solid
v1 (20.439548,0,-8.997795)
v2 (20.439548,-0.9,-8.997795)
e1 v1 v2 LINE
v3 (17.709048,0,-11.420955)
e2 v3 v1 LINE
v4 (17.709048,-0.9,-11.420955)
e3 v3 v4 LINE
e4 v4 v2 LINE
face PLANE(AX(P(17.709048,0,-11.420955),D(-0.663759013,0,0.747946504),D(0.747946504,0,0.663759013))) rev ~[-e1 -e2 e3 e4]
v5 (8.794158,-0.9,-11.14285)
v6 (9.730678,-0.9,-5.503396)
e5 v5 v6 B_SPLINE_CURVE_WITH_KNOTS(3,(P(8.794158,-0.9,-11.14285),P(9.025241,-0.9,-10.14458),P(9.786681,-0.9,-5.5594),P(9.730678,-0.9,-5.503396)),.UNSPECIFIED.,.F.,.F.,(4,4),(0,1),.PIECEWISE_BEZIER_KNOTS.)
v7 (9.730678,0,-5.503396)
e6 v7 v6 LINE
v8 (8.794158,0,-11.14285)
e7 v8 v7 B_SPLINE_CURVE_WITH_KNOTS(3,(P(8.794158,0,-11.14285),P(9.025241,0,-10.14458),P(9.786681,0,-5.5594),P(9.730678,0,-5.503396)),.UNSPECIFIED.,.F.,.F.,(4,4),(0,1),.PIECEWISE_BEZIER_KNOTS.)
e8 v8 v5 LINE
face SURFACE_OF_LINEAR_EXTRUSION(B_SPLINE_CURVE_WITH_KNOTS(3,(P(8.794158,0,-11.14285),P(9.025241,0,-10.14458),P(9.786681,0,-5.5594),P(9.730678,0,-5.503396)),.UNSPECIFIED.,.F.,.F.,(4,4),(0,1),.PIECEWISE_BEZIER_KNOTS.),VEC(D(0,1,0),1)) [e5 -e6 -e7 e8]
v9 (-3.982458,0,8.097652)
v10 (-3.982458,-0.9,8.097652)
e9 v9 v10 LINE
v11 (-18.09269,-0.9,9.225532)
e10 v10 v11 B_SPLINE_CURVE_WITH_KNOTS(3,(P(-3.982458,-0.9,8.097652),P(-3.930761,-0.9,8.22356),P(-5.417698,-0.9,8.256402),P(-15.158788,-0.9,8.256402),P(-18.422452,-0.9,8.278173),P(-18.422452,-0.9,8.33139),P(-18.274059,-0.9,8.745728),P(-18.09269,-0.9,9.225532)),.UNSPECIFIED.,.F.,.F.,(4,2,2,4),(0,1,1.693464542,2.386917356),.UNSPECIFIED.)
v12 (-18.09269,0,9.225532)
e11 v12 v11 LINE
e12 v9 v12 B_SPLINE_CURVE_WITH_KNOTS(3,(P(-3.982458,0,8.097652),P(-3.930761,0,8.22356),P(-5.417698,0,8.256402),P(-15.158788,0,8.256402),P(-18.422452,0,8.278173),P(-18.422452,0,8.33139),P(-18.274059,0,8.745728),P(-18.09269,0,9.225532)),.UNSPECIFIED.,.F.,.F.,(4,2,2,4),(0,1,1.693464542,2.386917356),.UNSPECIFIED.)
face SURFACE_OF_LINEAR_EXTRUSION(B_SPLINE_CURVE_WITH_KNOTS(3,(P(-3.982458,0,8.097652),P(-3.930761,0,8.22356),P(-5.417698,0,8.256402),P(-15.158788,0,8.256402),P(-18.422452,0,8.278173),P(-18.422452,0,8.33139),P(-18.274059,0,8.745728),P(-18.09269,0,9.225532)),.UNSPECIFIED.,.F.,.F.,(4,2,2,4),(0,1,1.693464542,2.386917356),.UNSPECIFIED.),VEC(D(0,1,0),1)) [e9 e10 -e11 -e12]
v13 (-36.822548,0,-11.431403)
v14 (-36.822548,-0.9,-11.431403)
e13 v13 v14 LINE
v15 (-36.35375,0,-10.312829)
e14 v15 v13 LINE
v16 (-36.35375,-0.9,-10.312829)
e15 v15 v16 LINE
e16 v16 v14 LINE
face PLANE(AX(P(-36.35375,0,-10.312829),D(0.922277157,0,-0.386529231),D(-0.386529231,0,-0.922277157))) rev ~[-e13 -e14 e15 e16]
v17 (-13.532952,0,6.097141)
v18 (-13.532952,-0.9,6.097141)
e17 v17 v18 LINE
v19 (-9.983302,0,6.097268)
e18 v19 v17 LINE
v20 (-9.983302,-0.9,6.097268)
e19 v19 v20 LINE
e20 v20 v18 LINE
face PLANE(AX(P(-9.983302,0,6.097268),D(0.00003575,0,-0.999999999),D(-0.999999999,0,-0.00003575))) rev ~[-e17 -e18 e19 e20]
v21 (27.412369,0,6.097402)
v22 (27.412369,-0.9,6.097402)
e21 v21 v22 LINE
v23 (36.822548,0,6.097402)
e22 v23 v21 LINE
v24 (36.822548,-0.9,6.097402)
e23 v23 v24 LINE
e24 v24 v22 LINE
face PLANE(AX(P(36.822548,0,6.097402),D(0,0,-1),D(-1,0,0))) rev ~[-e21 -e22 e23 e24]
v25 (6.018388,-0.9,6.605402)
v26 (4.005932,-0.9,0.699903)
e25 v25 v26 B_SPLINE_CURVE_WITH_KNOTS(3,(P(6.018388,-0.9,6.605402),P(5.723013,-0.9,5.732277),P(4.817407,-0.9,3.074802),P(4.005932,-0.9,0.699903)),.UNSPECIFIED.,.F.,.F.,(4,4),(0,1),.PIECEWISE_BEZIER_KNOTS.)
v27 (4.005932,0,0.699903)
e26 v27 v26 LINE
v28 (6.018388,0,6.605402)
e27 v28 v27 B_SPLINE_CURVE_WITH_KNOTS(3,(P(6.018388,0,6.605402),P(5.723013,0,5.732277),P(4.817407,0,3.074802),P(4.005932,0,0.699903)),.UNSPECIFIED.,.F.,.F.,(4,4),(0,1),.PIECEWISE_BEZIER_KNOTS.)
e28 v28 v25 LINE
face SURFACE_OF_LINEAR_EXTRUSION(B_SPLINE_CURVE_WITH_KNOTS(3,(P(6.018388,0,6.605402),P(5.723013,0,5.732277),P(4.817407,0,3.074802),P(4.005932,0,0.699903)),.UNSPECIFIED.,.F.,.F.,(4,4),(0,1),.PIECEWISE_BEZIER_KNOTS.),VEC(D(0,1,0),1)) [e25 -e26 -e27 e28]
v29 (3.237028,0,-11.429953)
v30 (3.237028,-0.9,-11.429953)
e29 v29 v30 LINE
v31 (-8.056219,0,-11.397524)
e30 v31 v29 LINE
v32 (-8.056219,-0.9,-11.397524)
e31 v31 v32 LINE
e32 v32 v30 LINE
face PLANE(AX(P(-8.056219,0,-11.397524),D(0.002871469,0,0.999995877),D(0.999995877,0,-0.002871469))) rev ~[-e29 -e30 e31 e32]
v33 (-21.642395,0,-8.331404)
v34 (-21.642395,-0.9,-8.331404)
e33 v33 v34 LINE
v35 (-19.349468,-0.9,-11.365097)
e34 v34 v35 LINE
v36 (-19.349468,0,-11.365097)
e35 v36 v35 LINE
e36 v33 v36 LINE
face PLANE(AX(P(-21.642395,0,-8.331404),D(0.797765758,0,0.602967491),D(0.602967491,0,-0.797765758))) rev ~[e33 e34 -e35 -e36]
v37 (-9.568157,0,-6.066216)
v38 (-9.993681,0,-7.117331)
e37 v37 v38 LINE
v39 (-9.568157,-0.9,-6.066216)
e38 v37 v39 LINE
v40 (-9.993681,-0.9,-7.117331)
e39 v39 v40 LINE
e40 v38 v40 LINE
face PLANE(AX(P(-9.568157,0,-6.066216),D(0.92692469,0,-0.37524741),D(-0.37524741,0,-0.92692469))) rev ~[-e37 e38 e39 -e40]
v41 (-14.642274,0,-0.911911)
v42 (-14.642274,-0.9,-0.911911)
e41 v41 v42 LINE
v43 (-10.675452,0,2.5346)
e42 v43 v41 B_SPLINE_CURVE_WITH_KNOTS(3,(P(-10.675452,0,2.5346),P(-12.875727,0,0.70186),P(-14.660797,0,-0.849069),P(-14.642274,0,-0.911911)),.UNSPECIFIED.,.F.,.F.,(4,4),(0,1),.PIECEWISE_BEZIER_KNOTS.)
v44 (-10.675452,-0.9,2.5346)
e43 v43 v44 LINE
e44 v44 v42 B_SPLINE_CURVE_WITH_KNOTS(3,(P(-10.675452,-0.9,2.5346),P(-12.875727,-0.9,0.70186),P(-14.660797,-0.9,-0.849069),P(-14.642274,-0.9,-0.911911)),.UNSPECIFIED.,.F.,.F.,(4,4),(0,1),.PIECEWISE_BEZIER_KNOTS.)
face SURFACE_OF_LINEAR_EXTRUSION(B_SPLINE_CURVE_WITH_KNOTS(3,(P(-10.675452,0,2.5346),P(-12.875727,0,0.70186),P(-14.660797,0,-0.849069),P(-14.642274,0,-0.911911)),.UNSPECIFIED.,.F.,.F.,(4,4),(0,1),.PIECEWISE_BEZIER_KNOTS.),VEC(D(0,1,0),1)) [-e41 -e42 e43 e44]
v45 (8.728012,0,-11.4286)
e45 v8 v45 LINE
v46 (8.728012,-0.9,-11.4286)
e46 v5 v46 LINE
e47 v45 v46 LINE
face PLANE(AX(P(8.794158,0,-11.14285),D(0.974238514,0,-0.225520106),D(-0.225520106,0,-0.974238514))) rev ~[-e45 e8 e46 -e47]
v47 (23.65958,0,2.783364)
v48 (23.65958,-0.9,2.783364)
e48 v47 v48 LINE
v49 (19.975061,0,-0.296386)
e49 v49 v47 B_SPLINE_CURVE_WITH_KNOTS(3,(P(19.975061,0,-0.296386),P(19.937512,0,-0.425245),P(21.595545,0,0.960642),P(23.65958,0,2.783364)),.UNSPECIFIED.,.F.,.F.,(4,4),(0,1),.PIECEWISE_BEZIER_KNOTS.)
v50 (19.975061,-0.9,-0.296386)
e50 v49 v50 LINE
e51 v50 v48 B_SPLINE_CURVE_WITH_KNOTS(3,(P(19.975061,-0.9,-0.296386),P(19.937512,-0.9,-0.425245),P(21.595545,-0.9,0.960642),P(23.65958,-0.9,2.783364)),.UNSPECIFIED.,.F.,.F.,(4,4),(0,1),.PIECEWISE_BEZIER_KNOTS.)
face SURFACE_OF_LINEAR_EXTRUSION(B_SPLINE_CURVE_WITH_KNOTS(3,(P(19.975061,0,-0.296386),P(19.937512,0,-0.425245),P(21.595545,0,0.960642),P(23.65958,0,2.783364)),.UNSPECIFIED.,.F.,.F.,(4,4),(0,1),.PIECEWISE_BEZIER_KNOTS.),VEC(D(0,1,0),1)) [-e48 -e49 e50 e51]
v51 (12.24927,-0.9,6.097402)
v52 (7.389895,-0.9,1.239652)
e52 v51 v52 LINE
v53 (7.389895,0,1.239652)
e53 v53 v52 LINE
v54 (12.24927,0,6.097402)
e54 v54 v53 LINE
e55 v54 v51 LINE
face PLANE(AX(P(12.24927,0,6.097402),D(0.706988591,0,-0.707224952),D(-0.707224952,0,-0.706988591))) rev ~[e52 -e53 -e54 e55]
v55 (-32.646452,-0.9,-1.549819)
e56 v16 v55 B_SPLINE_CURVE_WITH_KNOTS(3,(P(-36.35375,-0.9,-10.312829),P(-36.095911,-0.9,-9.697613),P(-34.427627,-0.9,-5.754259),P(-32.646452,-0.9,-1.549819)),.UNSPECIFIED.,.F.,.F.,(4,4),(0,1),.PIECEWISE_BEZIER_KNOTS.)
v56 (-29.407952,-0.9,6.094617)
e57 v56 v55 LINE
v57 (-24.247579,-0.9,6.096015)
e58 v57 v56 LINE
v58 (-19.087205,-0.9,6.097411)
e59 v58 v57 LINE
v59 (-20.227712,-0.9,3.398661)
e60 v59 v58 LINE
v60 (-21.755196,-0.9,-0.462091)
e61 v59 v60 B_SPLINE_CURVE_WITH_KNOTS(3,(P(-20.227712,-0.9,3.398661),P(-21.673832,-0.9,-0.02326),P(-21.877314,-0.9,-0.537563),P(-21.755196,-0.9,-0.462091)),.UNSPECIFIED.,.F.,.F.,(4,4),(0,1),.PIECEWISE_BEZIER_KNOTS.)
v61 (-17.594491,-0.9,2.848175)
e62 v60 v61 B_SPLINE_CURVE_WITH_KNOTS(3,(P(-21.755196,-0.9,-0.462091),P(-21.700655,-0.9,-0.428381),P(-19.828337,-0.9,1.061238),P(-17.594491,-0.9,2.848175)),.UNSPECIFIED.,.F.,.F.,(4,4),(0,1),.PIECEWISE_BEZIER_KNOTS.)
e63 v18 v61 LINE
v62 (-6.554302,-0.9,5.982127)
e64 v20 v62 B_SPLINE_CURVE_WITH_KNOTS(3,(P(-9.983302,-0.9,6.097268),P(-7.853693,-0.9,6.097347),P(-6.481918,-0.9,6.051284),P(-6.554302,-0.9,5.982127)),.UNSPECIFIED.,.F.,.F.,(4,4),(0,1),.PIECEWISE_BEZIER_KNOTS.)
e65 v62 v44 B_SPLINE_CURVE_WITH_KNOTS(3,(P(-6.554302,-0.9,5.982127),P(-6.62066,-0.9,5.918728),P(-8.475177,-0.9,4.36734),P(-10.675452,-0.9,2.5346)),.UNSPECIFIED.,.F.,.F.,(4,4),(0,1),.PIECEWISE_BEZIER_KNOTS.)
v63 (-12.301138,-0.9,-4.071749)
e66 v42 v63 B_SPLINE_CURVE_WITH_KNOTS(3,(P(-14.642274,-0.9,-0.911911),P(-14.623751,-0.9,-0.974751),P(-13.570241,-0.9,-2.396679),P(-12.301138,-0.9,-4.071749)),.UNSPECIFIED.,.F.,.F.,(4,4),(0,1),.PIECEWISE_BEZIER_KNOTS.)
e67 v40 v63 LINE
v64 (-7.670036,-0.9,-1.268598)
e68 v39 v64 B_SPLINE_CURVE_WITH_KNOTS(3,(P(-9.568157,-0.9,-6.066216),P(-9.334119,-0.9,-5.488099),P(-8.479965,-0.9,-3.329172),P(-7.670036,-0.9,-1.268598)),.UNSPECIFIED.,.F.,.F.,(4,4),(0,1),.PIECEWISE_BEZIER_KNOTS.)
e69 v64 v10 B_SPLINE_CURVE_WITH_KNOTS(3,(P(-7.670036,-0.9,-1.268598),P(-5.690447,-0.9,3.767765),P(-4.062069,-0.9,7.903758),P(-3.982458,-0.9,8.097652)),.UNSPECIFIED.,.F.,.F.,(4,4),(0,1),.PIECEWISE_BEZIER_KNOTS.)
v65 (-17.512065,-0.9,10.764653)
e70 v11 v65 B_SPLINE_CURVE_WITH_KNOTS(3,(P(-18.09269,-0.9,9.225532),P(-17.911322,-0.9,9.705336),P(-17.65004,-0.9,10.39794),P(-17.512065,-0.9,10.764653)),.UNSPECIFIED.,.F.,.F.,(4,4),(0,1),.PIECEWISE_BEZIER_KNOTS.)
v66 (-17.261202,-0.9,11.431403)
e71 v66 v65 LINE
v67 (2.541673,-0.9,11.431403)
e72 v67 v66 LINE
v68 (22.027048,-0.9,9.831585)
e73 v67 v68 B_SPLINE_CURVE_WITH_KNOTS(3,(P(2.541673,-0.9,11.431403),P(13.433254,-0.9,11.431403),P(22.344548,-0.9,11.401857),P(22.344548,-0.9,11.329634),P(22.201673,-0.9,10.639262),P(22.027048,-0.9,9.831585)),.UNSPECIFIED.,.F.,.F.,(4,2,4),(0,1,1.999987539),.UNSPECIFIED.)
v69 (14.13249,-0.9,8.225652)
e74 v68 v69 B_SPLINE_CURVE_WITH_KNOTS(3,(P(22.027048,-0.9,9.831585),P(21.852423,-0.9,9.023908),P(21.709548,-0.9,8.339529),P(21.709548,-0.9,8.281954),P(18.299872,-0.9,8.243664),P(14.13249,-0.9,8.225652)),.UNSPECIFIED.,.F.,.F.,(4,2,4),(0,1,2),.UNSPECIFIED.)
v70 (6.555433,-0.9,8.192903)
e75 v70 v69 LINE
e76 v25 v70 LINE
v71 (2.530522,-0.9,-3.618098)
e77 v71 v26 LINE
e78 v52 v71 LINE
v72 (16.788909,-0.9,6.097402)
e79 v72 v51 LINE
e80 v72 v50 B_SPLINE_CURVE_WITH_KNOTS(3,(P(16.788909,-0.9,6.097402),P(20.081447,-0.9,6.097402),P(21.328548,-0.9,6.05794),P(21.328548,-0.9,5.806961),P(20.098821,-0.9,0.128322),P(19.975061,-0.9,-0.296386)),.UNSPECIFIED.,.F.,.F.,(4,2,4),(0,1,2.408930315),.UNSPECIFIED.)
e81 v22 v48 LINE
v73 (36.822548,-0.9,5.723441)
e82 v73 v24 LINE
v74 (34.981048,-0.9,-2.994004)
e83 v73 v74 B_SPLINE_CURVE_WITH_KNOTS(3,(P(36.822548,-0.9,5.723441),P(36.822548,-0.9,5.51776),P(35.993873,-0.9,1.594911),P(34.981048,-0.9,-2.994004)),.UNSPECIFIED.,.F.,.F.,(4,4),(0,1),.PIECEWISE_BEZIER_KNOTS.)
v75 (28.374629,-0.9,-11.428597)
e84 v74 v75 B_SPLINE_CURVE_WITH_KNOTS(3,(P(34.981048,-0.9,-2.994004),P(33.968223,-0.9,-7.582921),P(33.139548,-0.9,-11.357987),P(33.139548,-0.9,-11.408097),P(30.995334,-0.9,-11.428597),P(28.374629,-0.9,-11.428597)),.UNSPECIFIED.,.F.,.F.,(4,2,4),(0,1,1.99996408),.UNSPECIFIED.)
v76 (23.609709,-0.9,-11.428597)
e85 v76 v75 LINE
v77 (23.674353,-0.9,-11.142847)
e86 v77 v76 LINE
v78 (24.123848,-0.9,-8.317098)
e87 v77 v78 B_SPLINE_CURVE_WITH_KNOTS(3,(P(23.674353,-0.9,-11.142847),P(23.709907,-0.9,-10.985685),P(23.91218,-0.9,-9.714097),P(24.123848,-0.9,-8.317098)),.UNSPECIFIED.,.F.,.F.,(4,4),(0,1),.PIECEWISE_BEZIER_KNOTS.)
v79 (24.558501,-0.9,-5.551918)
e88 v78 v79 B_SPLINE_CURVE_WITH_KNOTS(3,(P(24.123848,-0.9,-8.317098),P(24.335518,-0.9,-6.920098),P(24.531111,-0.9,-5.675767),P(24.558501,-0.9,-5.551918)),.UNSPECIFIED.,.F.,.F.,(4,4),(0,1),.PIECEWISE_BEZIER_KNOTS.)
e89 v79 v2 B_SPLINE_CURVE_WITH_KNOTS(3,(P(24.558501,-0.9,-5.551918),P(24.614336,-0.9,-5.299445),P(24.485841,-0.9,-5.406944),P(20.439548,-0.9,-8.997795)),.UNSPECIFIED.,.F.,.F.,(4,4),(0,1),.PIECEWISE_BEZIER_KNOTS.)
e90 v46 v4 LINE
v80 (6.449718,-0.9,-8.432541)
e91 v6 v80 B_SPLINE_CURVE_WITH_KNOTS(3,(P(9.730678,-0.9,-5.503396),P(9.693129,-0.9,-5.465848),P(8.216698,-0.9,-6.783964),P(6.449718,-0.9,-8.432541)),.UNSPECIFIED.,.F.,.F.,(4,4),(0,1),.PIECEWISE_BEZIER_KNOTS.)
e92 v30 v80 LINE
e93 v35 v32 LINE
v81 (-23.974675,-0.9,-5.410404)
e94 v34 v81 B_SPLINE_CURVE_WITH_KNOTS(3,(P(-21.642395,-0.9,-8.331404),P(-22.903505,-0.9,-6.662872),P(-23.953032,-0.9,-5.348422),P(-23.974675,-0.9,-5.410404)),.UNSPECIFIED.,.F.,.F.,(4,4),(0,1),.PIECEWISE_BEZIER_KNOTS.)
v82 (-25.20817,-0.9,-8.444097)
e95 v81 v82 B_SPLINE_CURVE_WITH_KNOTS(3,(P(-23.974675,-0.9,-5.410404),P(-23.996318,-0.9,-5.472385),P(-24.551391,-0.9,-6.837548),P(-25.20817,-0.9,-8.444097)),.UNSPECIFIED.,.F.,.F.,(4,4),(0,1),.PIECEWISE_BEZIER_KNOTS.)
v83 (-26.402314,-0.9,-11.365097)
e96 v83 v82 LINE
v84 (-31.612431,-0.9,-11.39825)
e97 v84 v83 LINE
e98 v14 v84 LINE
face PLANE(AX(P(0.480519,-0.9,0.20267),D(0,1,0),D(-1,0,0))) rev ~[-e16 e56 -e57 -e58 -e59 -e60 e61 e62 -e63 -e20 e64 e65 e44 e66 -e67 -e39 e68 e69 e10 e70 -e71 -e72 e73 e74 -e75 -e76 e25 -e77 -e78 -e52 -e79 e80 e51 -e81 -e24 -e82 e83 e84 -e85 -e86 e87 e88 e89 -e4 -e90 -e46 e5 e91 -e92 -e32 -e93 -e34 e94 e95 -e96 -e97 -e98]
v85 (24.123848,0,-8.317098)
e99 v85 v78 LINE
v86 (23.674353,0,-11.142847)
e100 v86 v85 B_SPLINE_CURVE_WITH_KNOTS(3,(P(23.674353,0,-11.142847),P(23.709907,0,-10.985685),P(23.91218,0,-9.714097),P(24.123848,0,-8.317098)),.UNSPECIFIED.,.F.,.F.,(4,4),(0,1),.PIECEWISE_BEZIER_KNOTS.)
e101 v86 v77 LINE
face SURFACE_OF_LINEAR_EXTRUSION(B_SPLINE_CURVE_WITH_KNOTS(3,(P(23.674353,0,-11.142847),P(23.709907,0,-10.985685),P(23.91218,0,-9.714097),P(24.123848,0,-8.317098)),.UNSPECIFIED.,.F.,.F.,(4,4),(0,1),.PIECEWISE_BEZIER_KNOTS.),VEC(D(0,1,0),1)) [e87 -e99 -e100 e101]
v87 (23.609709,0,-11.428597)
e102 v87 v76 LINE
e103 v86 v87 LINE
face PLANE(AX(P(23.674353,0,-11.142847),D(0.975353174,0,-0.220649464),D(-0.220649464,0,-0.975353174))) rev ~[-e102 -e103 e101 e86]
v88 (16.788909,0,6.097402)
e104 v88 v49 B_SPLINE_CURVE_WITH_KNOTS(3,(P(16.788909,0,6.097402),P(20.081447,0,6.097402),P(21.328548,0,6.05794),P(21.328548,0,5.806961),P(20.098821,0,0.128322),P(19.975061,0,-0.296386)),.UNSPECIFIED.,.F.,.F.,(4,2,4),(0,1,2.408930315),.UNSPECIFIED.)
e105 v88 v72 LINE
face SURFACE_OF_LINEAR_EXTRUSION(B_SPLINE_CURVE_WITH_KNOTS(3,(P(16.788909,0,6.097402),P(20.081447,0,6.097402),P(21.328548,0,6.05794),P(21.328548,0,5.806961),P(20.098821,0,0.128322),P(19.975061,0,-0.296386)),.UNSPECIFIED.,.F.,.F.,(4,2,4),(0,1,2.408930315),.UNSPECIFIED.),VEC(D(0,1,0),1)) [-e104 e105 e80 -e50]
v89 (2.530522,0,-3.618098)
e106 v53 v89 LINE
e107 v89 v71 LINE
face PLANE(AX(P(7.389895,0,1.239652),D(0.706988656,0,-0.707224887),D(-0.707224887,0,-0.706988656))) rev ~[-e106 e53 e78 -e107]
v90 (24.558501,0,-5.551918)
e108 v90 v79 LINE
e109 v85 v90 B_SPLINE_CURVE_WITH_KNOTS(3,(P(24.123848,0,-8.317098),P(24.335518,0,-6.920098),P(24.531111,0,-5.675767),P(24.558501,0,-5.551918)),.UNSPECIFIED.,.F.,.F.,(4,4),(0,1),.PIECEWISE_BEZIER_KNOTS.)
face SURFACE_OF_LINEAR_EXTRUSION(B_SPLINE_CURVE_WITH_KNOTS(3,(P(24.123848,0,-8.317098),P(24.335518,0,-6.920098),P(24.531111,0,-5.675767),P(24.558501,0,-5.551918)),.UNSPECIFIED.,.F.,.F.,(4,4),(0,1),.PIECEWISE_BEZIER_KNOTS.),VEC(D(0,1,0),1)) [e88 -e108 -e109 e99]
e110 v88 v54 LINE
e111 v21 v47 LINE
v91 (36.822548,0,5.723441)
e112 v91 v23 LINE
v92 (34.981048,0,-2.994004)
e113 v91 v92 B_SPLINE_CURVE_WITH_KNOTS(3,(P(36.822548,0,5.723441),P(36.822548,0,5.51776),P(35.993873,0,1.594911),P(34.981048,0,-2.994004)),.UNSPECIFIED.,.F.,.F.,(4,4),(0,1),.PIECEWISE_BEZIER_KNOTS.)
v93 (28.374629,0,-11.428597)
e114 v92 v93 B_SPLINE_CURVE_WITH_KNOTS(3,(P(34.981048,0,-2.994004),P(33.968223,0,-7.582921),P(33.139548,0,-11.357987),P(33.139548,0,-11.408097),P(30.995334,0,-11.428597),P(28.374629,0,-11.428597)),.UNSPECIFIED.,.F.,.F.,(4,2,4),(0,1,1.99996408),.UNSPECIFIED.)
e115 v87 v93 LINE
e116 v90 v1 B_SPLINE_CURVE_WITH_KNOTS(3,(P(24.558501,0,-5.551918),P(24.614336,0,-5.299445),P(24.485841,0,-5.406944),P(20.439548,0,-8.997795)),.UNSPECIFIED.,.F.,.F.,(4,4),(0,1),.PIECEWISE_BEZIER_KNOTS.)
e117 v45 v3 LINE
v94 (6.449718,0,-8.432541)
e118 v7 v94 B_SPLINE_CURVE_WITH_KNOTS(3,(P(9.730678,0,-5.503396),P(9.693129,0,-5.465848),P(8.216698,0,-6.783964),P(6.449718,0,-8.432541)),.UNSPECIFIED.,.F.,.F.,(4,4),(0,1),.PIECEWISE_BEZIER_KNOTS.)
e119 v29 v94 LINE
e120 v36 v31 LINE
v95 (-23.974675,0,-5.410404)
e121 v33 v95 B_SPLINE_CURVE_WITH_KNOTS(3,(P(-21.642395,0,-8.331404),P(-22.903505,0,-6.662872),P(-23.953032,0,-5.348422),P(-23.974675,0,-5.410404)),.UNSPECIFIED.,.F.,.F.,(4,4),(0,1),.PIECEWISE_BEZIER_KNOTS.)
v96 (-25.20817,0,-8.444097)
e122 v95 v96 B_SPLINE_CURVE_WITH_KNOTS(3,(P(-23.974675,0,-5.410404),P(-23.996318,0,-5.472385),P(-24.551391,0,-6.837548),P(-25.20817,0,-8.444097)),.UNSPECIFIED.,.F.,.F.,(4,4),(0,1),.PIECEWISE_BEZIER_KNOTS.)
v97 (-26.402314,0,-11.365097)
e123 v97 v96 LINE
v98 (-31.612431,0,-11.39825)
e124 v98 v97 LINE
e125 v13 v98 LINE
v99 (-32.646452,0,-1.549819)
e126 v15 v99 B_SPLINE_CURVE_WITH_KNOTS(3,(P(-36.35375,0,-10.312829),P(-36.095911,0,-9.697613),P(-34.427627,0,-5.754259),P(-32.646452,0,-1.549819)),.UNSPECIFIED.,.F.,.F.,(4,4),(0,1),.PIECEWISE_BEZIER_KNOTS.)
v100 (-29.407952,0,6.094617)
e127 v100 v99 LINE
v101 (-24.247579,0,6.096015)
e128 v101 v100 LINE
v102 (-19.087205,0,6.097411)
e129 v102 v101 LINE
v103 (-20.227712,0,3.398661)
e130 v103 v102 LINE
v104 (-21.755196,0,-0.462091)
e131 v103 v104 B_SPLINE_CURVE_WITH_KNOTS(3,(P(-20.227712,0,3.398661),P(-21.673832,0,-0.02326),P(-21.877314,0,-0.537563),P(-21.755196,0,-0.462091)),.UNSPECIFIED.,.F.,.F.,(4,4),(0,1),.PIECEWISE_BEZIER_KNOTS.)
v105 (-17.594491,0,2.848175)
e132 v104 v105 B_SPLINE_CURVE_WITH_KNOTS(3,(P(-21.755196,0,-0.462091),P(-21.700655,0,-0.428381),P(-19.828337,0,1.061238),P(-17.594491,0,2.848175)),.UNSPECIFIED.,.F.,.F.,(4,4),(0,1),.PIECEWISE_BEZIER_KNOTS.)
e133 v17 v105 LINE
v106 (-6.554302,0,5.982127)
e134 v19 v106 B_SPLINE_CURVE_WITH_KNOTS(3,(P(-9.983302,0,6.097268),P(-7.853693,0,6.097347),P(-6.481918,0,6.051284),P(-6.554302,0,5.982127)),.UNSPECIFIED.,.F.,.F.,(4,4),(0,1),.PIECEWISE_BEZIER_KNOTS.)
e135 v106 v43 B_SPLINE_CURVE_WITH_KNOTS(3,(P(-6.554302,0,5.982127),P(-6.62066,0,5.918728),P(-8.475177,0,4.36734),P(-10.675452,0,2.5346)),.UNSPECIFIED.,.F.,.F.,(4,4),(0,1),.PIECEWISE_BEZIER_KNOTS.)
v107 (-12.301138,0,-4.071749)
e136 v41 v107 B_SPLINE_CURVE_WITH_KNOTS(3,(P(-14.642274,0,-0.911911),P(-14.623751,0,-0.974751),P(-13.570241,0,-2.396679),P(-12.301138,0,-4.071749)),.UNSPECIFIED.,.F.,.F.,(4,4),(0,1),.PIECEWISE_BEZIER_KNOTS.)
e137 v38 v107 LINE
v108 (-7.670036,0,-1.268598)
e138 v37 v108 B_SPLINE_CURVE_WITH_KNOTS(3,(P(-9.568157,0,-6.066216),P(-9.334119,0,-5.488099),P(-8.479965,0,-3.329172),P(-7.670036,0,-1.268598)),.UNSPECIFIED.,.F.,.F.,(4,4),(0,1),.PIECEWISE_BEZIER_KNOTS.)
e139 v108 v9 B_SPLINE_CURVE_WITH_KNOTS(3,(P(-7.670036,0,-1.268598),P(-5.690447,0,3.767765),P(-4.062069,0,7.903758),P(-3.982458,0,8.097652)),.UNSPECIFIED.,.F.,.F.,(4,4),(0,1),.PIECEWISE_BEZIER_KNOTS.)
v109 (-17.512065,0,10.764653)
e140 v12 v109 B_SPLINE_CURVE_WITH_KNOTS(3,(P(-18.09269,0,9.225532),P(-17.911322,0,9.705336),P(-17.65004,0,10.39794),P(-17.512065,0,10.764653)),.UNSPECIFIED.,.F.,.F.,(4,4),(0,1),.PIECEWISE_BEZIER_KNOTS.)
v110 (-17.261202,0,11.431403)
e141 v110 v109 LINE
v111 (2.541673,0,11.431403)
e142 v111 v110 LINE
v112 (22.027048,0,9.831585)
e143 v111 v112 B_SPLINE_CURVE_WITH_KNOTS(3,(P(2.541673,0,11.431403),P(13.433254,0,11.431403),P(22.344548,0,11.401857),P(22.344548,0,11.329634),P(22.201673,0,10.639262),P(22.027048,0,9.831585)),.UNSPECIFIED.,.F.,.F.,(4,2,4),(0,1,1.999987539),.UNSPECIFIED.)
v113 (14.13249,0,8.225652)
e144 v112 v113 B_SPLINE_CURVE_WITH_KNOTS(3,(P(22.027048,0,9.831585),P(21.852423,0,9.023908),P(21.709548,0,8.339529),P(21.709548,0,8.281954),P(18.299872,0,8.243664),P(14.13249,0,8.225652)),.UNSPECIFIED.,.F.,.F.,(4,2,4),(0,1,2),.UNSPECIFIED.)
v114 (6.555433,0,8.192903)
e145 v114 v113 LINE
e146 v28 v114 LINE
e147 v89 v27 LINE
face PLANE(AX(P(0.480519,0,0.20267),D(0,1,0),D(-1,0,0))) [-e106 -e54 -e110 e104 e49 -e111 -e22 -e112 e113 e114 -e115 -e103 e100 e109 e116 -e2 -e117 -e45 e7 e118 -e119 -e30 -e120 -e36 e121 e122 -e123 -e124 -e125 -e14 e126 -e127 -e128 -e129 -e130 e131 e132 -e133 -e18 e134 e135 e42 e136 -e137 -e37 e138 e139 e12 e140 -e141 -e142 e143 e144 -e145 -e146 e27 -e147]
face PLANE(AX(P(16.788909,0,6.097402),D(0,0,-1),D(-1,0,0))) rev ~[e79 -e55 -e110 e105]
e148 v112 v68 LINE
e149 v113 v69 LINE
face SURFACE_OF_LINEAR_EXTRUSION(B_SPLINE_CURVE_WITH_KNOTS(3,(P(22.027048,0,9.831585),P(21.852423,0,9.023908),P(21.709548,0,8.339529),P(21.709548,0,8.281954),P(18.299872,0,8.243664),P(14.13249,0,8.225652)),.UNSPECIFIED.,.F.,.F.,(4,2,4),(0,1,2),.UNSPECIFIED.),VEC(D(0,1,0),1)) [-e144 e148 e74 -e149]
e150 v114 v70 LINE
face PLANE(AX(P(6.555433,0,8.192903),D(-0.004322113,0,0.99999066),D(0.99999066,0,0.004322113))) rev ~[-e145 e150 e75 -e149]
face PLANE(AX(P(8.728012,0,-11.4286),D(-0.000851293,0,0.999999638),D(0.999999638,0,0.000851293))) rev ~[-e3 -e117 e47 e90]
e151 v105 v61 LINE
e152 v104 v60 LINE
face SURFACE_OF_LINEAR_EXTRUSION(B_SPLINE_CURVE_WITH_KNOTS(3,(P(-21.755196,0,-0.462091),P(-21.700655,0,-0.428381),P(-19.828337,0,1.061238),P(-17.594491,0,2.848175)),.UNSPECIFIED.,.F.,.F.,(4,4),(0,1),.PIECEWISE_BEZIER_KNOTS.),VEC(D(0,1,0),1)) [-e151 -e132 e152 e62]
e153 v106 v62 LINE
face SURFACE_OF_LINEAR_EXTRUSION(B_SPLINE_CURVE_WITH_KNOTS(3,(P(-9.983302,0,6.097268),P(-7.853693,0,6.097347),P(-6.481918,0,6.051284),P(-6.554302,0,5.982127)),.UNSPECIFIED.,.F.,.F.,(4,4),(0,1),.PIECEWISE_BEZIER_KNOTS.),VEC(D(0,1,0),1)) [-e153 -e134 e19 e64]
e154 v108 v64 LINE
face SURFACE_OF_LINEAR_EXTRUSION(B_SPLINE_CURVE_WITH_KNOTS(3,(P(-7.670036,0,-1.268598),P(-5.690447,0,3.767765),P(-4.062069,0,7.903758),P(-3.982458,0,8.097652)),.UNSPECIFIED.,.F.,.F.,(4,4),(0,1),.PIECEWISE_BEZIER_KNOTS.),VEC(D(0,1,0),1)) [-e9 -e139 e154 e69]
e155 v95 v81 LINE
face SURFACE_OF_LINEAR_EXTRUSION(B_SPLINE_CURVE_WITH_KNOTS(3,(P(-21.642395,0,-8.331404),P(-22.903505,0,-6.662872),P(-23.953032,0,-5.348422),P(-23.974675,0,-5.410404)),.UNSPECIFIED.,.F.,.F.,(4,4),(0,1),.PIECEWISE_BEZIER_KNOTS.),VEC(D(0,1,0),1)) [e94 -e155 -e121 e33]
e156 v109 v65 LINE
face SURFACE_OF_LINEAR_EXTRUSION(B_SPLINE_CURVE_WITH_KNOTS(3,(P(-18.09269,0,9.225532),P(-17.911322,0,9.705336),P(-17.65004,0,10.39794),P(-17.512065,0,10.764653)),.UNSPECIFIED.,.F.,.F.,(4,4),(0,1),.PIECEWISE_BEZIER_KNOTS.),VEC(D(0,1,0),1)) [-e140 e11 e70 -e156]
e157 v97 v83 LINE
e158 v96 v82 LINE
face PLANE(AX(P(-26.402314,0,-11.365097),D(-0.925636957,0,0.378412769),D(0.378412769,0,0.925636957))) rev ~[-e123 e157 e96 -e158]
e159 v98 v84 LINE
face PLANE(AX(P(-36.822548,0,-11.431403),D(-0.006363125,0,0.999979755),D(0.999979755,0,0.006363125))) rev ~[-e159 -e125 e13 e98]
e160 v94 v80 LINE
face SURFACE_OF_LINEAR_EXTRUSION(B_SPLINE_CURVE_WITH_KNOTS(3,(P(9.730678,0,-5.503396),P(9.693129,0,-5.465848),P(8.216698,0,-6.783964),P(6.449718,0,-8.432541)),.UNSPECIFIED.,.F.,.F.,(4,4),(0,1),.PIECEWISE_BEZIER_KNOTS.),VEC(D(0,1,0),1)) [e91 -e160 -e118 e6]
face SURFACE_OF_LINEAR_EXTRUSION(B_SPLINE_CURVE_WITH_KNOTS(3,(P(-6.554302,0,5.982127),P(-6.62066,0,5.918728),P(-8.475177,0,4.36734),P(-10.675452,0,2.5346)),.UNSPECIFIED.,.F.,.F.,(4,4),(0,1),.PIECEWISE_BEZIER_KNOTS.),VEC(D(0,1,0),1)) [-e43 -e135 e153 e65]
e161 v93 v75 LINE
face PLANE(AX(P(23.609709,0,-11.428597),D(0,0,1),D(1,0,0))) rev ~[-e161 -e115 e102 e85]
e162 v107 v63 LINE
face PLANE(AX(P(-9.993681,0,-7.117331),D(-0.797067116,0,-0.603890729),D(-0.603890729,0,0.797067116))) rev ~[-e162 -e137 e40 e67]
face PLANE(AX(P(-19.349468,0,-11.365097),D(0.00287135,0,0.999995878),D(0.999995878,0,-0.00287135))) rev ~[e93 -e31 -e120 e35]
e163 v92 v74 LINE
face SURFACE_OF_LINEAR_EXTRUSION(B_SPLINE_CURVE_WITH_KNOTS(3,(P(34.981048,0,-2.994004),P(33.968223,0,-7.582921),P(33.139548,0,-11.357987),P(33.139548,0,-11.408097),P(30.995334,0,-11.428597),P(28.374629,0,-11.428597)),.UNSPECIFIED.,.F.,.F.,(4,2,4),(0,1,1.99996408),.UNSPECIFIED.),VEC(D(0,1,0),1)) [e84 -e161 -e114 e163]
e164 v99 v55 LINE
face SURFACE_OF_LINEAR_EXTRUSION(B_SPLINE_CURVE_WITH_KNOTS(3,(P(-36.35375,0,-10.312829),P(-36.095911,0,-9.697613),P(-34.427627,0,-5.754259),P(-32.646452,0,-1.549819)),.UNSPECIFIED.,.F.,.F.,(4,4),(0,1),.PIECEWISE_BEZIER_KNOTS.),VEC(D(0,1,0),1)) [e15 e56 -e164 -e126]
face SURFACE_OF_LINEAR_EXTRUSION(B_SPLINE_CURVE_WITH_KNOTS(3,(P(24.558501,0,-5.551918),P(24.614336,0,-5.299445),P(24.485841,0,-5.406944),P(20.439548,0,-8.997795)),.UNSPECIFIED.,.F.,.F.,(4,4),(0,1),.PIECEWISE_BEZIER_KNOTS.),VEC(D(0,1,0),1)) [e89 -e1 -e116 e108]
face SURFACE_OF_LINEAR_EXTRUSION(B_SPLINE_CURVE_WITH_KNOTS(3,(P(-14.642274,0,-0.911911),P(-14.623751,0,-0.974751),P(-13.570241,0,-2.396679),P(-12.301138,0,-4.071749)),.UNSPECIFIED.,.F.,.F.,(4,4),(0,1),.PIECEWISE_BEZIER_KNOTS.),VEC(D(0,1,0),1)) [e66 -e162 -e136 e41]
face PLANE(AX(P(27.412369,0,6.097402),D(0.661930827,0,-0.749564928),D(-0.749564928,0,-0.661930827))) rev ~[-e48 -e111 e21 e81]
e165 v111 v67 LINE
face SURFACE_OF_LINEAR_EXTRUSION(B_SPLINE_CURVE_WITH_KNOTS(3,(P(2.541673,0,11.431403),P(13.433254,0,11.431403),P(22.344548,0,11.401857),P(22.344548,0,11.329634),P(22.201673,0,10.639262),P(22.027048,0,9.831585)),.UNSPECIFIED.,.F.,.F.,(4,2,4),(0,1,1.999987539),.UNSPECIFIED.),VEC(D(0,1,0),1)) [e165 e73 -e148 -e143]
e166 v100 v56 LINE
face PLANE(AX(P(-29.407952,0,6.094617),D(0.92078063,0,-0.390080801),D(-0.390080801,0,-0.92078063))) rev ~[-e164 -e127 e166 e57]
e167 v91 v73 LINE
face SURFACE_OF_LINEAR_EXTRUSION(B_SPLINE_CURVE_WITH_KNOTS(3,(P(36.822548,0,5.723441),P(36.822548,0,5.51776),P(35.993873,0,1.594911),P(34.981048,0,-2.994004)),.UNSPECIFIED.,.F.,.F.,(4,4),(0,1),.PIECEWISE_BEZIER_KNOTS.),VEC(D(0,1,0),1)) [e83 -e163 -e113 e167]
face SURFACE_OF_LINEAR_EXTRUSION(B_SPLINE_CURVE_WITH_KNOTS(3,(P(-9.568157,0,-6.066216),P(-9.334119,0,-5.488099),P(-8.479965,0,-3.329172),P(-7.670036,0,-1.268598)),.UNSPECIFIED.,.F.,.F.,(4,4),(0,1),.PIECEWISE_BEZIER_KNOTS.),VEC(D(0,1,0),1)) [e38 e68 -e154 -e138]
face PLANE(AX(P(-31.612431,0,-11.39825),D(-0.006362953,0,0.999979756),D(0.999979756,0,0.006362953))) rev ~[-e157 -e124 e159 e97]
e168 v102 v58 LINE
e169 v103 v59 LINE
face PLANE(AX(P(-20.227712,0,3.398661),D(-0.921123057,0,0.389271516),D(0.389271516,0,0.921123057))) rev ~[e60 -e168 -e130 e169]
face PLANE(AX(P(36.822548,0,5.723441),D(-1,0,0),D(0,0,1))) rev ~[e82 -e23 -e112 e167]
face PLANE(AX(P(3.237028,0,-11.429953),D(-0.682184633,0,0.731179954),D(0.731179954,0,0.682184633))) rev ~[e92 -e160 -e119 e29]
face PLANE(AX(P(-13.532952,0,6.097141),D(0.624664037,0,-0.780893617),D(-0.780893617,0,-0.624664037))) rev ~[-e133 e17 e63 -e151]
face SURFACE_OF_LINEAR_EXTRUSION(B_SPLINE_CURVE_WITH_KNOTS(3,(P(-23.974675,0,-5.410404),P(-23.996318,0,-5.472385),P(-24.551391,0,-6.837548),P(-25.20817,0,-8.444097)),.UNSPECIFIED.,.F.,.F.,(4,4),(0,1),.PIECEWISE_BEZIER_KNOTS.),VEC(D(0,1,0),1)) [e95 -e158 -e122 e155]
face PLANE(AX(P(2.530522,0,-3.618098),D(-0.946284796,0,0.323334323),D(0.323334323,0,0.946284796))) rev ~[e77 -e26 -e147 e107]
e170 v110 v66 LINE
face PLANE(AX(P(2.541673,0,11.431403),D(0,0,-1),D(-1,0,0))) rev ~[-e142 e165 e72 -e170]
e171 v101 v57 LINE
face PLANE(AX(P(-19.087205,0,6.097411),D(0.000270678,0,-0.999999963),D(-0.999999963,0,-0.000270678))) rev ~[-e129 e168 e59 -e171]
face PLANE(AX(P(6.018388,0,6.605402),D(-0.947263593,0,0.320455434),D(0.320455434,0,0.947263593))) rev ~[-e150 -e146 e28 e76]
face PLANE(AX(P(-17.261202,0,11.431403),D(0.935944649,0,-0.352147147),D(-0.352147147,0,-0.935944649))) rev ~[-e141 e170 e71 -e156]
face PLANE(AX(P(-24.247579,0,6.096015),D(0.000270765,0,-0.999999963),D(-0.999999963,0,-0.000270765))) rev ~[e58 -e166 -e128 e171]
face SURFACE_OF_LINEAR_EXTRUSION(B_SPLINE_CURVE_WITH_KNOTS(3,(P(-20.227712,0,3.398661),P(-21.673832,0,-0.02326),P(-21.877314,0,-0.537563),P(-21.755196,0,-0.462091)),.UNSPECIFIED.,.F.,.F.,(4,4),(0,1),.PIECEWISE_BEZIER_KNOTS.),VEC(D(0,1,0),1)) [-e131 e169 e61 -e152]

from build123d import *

# Parameters (mm, degrees)
F1_DEPTH = 2
F2_SCALE = 0.45


with BuildPart() as f1:
    # F0 (on Front) → F1 (new body)
    with BuildSketch(Plane.XZ):
        with BuildLine():
            add(Edge.make_bspline(
                [(-80.786111, -22.917398), (-80.213136, -21.550251), (-76.505838, -12.787243), (-72.547671, -3.444042)],
                knots=[0, 0, 0, 0, 1, 1, 1, 1], degree=3))
            Line((-80.786111, -22.917398), (-81.827884, -25.403118))
            Line((-81.827884, -25.403118), (-70.249846, -25.329444))
            Line((-70.249846, -25.329444), (-58.671809, -25.255772))
            Line((-58.671809, -25.255772), (-56.018156, -18.764661))
            add(Edge.make_bspline(
                [(-53.277055, -12.02312), (-53.325152, -12.160856), (-54.558646, -15.19455), (-56.018156, -18.764661)],
                knots=[0, 0, 0, 0, 1, 1, 1, 1], degree=3))
            add(Edge.make_bspline(
                [(-48.094211, -18.514231), (-50.896677, -14.806382), (-53.228959, -11.885382), (-53.277055, -12.02312)],
                knots=[0, 0, 0, 0, 1, 1, 1, 1], degree=3))
            Line((-48.094211, -18.514231), (-42.998818, -25.255772))
            Line((-42.998818, -25.255772), (-17.90271, -25.327832))
            Line((-17.90271, -25.327832), (7.193396, -25.399895))
            Line((7.193396, -25.399895), (14.332707, -18.738979))
            add(Edge.make_bspline(
                [(21.623729, -12.229769), (21.540287, -12.14633), (18.25933, -15.075475), (14.332707, -18.738979)],
                knots=[0, 0, 0, 0, 1, 1, 1, 1], degree=3))
            add(Edge.make_bspline(
                [(19.542574, -24.761889), (20.056092, -22.543512), (21.748181, -12.354223), (21.623729, -12.229769)],
                knots=[0, 0, 0, 0, 1, 1, 1, 1], degree=3))
            Line((19.542574, -24.761889), (19.395582, -25.396889))
            Line((19.395582, -25.396889), (29.374511, -25.388394))
            Line((29.374511, -25.388394), (39.35344, -25.379899))
            Line((39.35344, -25.379899), (45.421218, -19.995099))
            add(Edge.make_bspline(
                [(54.574446, -12.337595), (54.698525, -11.776545), (54.412979, -12.015432), (45.421218, -19.995099)],
                knots=[0, 0, 0, 0, 1, 1, 1, 1], degree=3))
            add(Edge.make_bspline(
                [(53.608552, -18.482439), (54.078929, -15.377995), (54.513579, -12.612815), (54.574446, -12.337595)],
                knots=[0, 0, 0, 0, 1, 1, 1, 1], degree=3))
            add(Edge.make_bspline(
                [(52.609674, -24.761883), (52.688683, -24.412633), (53.138178, -21.586883), (53.608552, -18.482439)],
                knots=[0, 0, 0, 0, 1, 1, 1, 1], degree=3))
            Line((52.609674, -24.761883), (52.466021, -25.396883))
            Line((52.466021, -25.396883), (63.05473, -25.396883))
            add(Edge.make_bspline(
                [(73.64344, -25.29565), (73.64344, -25.351327), (68.878521, -25.396883), (63.05473, -25.396883)],
                knots=[0, 0, 0, 0, 1, 1, 1, 1], degree=3))
            add(Edge.make_bspline(
                [(77.735662, -6.653343), (75.48494, -16.850935), (73.64344, -25.239971), (73.64344, -25.29565)],
                knots=[0, 0, 0, 0, 1, 1, 1, 1], degree=3))
            add(Edge.make_bspline(
                [(81.827884, 12.718757), (81.827884, 12.26169), (79.986384, 3.544246), (77.735662, -6.653343)],
                knots=[0, 0, 0, 0, 1, 1, 1, 1], degree=3))
            Line((81.827884, 12.718757), (81.827884, 13.549783))
            Line((81.827884, 13.549783), (71.37213, 13.549783))
            Line((71.37213, 13.549783), (60.916375, 13.549783))
            Line((60.916375, 13.549783), (52.576844, 6.185254))
            add(Edge.make_bspline(
                [(44.389024, -0.658635), (44.305582, -0.944989), (47.9901, 2.134761), (52.576844, 6.185254)],
                knots=[0, 0, 0, 0, 1, 1, 1, 1], degree=3))
            add(Edge.make_bspline(
                [(47.396773, 13.230562), (47.396773, 12.904358), (44.664046, 0.285161), (44.389024, -0.658635)],
                knots=[0, 0, 0, 0, 1, 1, 1, 1], degree=3))
            add(Edge.make_bspline(
                [(37.308686, 13.549783), (44.625438, 13.549783), (47.396773, 13.462088), (47.396773, 13.230562)],
                knots=[0, 0, 0, 0, 1, 1, 1, 1], degree=3))
            Line((37.308686, 13.549783), (27.220599, 13.549783))
            Line((27.220599, 13.549783), (16.42199, 2.754783))
            Line((16.42199, 2.754783), (5.623383, -8.040217))
            Line((5.623383, -8.040217), (8.902071, 1.555339))
            add(Edge.make_bspline(
                [(13.374196, 14.678672), (12.717806, 12.738394), (10.70535, 6.832894), (8.902071, 1.555339)],
                knots=[0, 0, 0, 0, 1, 1, 1, 1], degree=3))
            Line((13.374196, 14.678672), (14.567629, 18.20645))
            Line((14.567629, 18.20645), (31.405534, 18.279226))
            add(Edge.make_bspline(
                [(48.24344, 18.468314), (48.24344, 18.404342), (40.666383, 18.319253), (31.405534, 18.279226)],
                knots=[0, 0, 0, 0, 1, 1, 1, 1], degree=3))
            add(Edge.make_bspline(
                [(48.948995, 21.847967), (48.56094, 20.05313), (48.24344, 18.532286), (48.24344, 18.468314)],
                knots=[0, 0, 0, 0, 1, 1, 1, 1], degree=3))
            add(Edge.make_bspline(
                [(49.654551, 25.257212), (49.654551, 25.176965), (49.337051, 23.642805), (48.948995, 21.847967)],
                knots=[0, 0, 0, 0, 1, 1, 1, 1], degree=3))
            add(Edge.make_bspline(
                [(5.648162, 25.403117), (29.851675, 25.403117), (49.654551, 25.33746), (49.654551, 25.257212)],
                knots=[0, 0, 0, 0, 1, 1, 1, 1], degree=3))
            Line((5.648162, 25.403117), (-38.358227, 25.403117))
            Line((-38.358227, 25.403117), (-38.915701, 23.92145))
            add(Edge.make_bspline(
                [(-40.205978, 20.501182), (-39.802937, 21.567413), (-39.222312, 23.106533), (-38.915701, 23.92145)],
                knots=[0, 0, 0, 0, 1, 1, 1, 1], degree=3))
            add(Edge.make_bspline(
                [(-40.938782, 18.455071), (-40.938782, 18.514201), (-40.60902, 19.434951), (-40.205978, 20.501182)],
                knots=[0, 0, 0, 0, 1, 1, 1, 1], degree=3))
            add(Edge.make_bspline(
                [(-24.821921, 18.347561), (-33.686196, 18.347561), (-40.938782, 18.39594), (-40.938782, 18.455071)],
                knots=[0, 0, 0, 0, 1, 1, 1, 1], degree=3))
            add(Edge.make_bspline(
                [(-8.849907, 17.994783), (-8.735025, 18.274578), (-12.039328, 18.347561), (-24.821921, 18.347561)],
                knots=[0, 0, 0, 0, 1, 1, 1, 1], degree=3))
            add(Edge.make_bspline(
                [(-17.044525, -2.819106), (-12.645437, 8.372812), (-9.026821, 17.563906), (-8.849907, 17.994783)],
                knots=[0, 0, 0, 0, 1, 1, 1, 1], degree=3))
            add(Edge.make_bspline(
                [(-21.262571, -13.480479), (-20.742486, -12.195775), (-18.844367, -7.398161), (-17.044525, -2.819106)],
                knots=[0, 0, 0, 0, 1, 1, 1, 1], degree=3))
            Line((-21.262571, -13.480479), (-22.208179, -15.816291))
            Line((-22.208179, -15.816291), (-27.335863, -9.048331))
            add(Edge.make_bspline(
                [(-32.538387, -2.026468), (-32.497225, -2.166114), (-30.15609, -5.325953), (-27.335863, -9.048331)],
                knots=[0, 0, 0, 0, 1, 1, 1, 1], degree=3))
            add(Edge.make_bspline(
                [(-23.723227, 5.632445), (-28.612727, 1.559688), (-32.579549, -1.886821), (-32.538387, -2.026468)],
                knots=[0, 0, 0, 0, 1, 1, 1, 1], degree=3))
            add(Edge.make_bspline(
                [(-14.565116, 13.293616), (-14.712577, 13.152728), (-18.833727, 9.7052), (-23.723227, 5.632445)],
                knots=[0, 0, 0, 0, 1, 1, 1, 1], degree=3))
            add(Edge.make_bspline(
                [(-22.185116, 13.549484), (-17.45265, 13.549659), (-14.404263, 13.447297), (-14.565116, 13.293616)],
                knots=[0, 0, 0, 0, 1, 1, 1, 1], degree=3))
            Line((-22.185116, 13.549484), (-30.073227, 13.549202))
            Line((-30.073227, 13.549202), (-39.098868, 6.329277))
            add(Edge.make_bspline(
                [(-48.34488, -1.026868), (-48.223677, -0.951957), (-44.062971, 2.358306), (-39.098868, 6.329277)],
                knots=[0, 0, 0, 0, 1, 1, 1, 1], degree=3))
            add(Edge.make_bspline(
                [(-44.95047, 7.552581), (-48.164072, -0.051688), (-48.616254, -1.194584), (-48.34488, -1.026868)],
                knots=[0, 0, 0, 0, 1, 1, 1, 1], degree=3))
            Line((-44.95047, 7.552581), (-42.416012, 13.549803))
            Line((-42.416012, 13.549803), (-53.883509, 13.546699))
            Line((-53.883509, 13.546699), (-65.351005, 13.543594))
            Line((-65.351005, 13.543594), (-72.547671, -3.444042))
        make_face()
    extrude(amount=F1_DEPTH)


with BuildPart() as f1_1:
    # F2: moved
    add(f1.part.scale(F2_SCALE))


solid = f1_1.part
